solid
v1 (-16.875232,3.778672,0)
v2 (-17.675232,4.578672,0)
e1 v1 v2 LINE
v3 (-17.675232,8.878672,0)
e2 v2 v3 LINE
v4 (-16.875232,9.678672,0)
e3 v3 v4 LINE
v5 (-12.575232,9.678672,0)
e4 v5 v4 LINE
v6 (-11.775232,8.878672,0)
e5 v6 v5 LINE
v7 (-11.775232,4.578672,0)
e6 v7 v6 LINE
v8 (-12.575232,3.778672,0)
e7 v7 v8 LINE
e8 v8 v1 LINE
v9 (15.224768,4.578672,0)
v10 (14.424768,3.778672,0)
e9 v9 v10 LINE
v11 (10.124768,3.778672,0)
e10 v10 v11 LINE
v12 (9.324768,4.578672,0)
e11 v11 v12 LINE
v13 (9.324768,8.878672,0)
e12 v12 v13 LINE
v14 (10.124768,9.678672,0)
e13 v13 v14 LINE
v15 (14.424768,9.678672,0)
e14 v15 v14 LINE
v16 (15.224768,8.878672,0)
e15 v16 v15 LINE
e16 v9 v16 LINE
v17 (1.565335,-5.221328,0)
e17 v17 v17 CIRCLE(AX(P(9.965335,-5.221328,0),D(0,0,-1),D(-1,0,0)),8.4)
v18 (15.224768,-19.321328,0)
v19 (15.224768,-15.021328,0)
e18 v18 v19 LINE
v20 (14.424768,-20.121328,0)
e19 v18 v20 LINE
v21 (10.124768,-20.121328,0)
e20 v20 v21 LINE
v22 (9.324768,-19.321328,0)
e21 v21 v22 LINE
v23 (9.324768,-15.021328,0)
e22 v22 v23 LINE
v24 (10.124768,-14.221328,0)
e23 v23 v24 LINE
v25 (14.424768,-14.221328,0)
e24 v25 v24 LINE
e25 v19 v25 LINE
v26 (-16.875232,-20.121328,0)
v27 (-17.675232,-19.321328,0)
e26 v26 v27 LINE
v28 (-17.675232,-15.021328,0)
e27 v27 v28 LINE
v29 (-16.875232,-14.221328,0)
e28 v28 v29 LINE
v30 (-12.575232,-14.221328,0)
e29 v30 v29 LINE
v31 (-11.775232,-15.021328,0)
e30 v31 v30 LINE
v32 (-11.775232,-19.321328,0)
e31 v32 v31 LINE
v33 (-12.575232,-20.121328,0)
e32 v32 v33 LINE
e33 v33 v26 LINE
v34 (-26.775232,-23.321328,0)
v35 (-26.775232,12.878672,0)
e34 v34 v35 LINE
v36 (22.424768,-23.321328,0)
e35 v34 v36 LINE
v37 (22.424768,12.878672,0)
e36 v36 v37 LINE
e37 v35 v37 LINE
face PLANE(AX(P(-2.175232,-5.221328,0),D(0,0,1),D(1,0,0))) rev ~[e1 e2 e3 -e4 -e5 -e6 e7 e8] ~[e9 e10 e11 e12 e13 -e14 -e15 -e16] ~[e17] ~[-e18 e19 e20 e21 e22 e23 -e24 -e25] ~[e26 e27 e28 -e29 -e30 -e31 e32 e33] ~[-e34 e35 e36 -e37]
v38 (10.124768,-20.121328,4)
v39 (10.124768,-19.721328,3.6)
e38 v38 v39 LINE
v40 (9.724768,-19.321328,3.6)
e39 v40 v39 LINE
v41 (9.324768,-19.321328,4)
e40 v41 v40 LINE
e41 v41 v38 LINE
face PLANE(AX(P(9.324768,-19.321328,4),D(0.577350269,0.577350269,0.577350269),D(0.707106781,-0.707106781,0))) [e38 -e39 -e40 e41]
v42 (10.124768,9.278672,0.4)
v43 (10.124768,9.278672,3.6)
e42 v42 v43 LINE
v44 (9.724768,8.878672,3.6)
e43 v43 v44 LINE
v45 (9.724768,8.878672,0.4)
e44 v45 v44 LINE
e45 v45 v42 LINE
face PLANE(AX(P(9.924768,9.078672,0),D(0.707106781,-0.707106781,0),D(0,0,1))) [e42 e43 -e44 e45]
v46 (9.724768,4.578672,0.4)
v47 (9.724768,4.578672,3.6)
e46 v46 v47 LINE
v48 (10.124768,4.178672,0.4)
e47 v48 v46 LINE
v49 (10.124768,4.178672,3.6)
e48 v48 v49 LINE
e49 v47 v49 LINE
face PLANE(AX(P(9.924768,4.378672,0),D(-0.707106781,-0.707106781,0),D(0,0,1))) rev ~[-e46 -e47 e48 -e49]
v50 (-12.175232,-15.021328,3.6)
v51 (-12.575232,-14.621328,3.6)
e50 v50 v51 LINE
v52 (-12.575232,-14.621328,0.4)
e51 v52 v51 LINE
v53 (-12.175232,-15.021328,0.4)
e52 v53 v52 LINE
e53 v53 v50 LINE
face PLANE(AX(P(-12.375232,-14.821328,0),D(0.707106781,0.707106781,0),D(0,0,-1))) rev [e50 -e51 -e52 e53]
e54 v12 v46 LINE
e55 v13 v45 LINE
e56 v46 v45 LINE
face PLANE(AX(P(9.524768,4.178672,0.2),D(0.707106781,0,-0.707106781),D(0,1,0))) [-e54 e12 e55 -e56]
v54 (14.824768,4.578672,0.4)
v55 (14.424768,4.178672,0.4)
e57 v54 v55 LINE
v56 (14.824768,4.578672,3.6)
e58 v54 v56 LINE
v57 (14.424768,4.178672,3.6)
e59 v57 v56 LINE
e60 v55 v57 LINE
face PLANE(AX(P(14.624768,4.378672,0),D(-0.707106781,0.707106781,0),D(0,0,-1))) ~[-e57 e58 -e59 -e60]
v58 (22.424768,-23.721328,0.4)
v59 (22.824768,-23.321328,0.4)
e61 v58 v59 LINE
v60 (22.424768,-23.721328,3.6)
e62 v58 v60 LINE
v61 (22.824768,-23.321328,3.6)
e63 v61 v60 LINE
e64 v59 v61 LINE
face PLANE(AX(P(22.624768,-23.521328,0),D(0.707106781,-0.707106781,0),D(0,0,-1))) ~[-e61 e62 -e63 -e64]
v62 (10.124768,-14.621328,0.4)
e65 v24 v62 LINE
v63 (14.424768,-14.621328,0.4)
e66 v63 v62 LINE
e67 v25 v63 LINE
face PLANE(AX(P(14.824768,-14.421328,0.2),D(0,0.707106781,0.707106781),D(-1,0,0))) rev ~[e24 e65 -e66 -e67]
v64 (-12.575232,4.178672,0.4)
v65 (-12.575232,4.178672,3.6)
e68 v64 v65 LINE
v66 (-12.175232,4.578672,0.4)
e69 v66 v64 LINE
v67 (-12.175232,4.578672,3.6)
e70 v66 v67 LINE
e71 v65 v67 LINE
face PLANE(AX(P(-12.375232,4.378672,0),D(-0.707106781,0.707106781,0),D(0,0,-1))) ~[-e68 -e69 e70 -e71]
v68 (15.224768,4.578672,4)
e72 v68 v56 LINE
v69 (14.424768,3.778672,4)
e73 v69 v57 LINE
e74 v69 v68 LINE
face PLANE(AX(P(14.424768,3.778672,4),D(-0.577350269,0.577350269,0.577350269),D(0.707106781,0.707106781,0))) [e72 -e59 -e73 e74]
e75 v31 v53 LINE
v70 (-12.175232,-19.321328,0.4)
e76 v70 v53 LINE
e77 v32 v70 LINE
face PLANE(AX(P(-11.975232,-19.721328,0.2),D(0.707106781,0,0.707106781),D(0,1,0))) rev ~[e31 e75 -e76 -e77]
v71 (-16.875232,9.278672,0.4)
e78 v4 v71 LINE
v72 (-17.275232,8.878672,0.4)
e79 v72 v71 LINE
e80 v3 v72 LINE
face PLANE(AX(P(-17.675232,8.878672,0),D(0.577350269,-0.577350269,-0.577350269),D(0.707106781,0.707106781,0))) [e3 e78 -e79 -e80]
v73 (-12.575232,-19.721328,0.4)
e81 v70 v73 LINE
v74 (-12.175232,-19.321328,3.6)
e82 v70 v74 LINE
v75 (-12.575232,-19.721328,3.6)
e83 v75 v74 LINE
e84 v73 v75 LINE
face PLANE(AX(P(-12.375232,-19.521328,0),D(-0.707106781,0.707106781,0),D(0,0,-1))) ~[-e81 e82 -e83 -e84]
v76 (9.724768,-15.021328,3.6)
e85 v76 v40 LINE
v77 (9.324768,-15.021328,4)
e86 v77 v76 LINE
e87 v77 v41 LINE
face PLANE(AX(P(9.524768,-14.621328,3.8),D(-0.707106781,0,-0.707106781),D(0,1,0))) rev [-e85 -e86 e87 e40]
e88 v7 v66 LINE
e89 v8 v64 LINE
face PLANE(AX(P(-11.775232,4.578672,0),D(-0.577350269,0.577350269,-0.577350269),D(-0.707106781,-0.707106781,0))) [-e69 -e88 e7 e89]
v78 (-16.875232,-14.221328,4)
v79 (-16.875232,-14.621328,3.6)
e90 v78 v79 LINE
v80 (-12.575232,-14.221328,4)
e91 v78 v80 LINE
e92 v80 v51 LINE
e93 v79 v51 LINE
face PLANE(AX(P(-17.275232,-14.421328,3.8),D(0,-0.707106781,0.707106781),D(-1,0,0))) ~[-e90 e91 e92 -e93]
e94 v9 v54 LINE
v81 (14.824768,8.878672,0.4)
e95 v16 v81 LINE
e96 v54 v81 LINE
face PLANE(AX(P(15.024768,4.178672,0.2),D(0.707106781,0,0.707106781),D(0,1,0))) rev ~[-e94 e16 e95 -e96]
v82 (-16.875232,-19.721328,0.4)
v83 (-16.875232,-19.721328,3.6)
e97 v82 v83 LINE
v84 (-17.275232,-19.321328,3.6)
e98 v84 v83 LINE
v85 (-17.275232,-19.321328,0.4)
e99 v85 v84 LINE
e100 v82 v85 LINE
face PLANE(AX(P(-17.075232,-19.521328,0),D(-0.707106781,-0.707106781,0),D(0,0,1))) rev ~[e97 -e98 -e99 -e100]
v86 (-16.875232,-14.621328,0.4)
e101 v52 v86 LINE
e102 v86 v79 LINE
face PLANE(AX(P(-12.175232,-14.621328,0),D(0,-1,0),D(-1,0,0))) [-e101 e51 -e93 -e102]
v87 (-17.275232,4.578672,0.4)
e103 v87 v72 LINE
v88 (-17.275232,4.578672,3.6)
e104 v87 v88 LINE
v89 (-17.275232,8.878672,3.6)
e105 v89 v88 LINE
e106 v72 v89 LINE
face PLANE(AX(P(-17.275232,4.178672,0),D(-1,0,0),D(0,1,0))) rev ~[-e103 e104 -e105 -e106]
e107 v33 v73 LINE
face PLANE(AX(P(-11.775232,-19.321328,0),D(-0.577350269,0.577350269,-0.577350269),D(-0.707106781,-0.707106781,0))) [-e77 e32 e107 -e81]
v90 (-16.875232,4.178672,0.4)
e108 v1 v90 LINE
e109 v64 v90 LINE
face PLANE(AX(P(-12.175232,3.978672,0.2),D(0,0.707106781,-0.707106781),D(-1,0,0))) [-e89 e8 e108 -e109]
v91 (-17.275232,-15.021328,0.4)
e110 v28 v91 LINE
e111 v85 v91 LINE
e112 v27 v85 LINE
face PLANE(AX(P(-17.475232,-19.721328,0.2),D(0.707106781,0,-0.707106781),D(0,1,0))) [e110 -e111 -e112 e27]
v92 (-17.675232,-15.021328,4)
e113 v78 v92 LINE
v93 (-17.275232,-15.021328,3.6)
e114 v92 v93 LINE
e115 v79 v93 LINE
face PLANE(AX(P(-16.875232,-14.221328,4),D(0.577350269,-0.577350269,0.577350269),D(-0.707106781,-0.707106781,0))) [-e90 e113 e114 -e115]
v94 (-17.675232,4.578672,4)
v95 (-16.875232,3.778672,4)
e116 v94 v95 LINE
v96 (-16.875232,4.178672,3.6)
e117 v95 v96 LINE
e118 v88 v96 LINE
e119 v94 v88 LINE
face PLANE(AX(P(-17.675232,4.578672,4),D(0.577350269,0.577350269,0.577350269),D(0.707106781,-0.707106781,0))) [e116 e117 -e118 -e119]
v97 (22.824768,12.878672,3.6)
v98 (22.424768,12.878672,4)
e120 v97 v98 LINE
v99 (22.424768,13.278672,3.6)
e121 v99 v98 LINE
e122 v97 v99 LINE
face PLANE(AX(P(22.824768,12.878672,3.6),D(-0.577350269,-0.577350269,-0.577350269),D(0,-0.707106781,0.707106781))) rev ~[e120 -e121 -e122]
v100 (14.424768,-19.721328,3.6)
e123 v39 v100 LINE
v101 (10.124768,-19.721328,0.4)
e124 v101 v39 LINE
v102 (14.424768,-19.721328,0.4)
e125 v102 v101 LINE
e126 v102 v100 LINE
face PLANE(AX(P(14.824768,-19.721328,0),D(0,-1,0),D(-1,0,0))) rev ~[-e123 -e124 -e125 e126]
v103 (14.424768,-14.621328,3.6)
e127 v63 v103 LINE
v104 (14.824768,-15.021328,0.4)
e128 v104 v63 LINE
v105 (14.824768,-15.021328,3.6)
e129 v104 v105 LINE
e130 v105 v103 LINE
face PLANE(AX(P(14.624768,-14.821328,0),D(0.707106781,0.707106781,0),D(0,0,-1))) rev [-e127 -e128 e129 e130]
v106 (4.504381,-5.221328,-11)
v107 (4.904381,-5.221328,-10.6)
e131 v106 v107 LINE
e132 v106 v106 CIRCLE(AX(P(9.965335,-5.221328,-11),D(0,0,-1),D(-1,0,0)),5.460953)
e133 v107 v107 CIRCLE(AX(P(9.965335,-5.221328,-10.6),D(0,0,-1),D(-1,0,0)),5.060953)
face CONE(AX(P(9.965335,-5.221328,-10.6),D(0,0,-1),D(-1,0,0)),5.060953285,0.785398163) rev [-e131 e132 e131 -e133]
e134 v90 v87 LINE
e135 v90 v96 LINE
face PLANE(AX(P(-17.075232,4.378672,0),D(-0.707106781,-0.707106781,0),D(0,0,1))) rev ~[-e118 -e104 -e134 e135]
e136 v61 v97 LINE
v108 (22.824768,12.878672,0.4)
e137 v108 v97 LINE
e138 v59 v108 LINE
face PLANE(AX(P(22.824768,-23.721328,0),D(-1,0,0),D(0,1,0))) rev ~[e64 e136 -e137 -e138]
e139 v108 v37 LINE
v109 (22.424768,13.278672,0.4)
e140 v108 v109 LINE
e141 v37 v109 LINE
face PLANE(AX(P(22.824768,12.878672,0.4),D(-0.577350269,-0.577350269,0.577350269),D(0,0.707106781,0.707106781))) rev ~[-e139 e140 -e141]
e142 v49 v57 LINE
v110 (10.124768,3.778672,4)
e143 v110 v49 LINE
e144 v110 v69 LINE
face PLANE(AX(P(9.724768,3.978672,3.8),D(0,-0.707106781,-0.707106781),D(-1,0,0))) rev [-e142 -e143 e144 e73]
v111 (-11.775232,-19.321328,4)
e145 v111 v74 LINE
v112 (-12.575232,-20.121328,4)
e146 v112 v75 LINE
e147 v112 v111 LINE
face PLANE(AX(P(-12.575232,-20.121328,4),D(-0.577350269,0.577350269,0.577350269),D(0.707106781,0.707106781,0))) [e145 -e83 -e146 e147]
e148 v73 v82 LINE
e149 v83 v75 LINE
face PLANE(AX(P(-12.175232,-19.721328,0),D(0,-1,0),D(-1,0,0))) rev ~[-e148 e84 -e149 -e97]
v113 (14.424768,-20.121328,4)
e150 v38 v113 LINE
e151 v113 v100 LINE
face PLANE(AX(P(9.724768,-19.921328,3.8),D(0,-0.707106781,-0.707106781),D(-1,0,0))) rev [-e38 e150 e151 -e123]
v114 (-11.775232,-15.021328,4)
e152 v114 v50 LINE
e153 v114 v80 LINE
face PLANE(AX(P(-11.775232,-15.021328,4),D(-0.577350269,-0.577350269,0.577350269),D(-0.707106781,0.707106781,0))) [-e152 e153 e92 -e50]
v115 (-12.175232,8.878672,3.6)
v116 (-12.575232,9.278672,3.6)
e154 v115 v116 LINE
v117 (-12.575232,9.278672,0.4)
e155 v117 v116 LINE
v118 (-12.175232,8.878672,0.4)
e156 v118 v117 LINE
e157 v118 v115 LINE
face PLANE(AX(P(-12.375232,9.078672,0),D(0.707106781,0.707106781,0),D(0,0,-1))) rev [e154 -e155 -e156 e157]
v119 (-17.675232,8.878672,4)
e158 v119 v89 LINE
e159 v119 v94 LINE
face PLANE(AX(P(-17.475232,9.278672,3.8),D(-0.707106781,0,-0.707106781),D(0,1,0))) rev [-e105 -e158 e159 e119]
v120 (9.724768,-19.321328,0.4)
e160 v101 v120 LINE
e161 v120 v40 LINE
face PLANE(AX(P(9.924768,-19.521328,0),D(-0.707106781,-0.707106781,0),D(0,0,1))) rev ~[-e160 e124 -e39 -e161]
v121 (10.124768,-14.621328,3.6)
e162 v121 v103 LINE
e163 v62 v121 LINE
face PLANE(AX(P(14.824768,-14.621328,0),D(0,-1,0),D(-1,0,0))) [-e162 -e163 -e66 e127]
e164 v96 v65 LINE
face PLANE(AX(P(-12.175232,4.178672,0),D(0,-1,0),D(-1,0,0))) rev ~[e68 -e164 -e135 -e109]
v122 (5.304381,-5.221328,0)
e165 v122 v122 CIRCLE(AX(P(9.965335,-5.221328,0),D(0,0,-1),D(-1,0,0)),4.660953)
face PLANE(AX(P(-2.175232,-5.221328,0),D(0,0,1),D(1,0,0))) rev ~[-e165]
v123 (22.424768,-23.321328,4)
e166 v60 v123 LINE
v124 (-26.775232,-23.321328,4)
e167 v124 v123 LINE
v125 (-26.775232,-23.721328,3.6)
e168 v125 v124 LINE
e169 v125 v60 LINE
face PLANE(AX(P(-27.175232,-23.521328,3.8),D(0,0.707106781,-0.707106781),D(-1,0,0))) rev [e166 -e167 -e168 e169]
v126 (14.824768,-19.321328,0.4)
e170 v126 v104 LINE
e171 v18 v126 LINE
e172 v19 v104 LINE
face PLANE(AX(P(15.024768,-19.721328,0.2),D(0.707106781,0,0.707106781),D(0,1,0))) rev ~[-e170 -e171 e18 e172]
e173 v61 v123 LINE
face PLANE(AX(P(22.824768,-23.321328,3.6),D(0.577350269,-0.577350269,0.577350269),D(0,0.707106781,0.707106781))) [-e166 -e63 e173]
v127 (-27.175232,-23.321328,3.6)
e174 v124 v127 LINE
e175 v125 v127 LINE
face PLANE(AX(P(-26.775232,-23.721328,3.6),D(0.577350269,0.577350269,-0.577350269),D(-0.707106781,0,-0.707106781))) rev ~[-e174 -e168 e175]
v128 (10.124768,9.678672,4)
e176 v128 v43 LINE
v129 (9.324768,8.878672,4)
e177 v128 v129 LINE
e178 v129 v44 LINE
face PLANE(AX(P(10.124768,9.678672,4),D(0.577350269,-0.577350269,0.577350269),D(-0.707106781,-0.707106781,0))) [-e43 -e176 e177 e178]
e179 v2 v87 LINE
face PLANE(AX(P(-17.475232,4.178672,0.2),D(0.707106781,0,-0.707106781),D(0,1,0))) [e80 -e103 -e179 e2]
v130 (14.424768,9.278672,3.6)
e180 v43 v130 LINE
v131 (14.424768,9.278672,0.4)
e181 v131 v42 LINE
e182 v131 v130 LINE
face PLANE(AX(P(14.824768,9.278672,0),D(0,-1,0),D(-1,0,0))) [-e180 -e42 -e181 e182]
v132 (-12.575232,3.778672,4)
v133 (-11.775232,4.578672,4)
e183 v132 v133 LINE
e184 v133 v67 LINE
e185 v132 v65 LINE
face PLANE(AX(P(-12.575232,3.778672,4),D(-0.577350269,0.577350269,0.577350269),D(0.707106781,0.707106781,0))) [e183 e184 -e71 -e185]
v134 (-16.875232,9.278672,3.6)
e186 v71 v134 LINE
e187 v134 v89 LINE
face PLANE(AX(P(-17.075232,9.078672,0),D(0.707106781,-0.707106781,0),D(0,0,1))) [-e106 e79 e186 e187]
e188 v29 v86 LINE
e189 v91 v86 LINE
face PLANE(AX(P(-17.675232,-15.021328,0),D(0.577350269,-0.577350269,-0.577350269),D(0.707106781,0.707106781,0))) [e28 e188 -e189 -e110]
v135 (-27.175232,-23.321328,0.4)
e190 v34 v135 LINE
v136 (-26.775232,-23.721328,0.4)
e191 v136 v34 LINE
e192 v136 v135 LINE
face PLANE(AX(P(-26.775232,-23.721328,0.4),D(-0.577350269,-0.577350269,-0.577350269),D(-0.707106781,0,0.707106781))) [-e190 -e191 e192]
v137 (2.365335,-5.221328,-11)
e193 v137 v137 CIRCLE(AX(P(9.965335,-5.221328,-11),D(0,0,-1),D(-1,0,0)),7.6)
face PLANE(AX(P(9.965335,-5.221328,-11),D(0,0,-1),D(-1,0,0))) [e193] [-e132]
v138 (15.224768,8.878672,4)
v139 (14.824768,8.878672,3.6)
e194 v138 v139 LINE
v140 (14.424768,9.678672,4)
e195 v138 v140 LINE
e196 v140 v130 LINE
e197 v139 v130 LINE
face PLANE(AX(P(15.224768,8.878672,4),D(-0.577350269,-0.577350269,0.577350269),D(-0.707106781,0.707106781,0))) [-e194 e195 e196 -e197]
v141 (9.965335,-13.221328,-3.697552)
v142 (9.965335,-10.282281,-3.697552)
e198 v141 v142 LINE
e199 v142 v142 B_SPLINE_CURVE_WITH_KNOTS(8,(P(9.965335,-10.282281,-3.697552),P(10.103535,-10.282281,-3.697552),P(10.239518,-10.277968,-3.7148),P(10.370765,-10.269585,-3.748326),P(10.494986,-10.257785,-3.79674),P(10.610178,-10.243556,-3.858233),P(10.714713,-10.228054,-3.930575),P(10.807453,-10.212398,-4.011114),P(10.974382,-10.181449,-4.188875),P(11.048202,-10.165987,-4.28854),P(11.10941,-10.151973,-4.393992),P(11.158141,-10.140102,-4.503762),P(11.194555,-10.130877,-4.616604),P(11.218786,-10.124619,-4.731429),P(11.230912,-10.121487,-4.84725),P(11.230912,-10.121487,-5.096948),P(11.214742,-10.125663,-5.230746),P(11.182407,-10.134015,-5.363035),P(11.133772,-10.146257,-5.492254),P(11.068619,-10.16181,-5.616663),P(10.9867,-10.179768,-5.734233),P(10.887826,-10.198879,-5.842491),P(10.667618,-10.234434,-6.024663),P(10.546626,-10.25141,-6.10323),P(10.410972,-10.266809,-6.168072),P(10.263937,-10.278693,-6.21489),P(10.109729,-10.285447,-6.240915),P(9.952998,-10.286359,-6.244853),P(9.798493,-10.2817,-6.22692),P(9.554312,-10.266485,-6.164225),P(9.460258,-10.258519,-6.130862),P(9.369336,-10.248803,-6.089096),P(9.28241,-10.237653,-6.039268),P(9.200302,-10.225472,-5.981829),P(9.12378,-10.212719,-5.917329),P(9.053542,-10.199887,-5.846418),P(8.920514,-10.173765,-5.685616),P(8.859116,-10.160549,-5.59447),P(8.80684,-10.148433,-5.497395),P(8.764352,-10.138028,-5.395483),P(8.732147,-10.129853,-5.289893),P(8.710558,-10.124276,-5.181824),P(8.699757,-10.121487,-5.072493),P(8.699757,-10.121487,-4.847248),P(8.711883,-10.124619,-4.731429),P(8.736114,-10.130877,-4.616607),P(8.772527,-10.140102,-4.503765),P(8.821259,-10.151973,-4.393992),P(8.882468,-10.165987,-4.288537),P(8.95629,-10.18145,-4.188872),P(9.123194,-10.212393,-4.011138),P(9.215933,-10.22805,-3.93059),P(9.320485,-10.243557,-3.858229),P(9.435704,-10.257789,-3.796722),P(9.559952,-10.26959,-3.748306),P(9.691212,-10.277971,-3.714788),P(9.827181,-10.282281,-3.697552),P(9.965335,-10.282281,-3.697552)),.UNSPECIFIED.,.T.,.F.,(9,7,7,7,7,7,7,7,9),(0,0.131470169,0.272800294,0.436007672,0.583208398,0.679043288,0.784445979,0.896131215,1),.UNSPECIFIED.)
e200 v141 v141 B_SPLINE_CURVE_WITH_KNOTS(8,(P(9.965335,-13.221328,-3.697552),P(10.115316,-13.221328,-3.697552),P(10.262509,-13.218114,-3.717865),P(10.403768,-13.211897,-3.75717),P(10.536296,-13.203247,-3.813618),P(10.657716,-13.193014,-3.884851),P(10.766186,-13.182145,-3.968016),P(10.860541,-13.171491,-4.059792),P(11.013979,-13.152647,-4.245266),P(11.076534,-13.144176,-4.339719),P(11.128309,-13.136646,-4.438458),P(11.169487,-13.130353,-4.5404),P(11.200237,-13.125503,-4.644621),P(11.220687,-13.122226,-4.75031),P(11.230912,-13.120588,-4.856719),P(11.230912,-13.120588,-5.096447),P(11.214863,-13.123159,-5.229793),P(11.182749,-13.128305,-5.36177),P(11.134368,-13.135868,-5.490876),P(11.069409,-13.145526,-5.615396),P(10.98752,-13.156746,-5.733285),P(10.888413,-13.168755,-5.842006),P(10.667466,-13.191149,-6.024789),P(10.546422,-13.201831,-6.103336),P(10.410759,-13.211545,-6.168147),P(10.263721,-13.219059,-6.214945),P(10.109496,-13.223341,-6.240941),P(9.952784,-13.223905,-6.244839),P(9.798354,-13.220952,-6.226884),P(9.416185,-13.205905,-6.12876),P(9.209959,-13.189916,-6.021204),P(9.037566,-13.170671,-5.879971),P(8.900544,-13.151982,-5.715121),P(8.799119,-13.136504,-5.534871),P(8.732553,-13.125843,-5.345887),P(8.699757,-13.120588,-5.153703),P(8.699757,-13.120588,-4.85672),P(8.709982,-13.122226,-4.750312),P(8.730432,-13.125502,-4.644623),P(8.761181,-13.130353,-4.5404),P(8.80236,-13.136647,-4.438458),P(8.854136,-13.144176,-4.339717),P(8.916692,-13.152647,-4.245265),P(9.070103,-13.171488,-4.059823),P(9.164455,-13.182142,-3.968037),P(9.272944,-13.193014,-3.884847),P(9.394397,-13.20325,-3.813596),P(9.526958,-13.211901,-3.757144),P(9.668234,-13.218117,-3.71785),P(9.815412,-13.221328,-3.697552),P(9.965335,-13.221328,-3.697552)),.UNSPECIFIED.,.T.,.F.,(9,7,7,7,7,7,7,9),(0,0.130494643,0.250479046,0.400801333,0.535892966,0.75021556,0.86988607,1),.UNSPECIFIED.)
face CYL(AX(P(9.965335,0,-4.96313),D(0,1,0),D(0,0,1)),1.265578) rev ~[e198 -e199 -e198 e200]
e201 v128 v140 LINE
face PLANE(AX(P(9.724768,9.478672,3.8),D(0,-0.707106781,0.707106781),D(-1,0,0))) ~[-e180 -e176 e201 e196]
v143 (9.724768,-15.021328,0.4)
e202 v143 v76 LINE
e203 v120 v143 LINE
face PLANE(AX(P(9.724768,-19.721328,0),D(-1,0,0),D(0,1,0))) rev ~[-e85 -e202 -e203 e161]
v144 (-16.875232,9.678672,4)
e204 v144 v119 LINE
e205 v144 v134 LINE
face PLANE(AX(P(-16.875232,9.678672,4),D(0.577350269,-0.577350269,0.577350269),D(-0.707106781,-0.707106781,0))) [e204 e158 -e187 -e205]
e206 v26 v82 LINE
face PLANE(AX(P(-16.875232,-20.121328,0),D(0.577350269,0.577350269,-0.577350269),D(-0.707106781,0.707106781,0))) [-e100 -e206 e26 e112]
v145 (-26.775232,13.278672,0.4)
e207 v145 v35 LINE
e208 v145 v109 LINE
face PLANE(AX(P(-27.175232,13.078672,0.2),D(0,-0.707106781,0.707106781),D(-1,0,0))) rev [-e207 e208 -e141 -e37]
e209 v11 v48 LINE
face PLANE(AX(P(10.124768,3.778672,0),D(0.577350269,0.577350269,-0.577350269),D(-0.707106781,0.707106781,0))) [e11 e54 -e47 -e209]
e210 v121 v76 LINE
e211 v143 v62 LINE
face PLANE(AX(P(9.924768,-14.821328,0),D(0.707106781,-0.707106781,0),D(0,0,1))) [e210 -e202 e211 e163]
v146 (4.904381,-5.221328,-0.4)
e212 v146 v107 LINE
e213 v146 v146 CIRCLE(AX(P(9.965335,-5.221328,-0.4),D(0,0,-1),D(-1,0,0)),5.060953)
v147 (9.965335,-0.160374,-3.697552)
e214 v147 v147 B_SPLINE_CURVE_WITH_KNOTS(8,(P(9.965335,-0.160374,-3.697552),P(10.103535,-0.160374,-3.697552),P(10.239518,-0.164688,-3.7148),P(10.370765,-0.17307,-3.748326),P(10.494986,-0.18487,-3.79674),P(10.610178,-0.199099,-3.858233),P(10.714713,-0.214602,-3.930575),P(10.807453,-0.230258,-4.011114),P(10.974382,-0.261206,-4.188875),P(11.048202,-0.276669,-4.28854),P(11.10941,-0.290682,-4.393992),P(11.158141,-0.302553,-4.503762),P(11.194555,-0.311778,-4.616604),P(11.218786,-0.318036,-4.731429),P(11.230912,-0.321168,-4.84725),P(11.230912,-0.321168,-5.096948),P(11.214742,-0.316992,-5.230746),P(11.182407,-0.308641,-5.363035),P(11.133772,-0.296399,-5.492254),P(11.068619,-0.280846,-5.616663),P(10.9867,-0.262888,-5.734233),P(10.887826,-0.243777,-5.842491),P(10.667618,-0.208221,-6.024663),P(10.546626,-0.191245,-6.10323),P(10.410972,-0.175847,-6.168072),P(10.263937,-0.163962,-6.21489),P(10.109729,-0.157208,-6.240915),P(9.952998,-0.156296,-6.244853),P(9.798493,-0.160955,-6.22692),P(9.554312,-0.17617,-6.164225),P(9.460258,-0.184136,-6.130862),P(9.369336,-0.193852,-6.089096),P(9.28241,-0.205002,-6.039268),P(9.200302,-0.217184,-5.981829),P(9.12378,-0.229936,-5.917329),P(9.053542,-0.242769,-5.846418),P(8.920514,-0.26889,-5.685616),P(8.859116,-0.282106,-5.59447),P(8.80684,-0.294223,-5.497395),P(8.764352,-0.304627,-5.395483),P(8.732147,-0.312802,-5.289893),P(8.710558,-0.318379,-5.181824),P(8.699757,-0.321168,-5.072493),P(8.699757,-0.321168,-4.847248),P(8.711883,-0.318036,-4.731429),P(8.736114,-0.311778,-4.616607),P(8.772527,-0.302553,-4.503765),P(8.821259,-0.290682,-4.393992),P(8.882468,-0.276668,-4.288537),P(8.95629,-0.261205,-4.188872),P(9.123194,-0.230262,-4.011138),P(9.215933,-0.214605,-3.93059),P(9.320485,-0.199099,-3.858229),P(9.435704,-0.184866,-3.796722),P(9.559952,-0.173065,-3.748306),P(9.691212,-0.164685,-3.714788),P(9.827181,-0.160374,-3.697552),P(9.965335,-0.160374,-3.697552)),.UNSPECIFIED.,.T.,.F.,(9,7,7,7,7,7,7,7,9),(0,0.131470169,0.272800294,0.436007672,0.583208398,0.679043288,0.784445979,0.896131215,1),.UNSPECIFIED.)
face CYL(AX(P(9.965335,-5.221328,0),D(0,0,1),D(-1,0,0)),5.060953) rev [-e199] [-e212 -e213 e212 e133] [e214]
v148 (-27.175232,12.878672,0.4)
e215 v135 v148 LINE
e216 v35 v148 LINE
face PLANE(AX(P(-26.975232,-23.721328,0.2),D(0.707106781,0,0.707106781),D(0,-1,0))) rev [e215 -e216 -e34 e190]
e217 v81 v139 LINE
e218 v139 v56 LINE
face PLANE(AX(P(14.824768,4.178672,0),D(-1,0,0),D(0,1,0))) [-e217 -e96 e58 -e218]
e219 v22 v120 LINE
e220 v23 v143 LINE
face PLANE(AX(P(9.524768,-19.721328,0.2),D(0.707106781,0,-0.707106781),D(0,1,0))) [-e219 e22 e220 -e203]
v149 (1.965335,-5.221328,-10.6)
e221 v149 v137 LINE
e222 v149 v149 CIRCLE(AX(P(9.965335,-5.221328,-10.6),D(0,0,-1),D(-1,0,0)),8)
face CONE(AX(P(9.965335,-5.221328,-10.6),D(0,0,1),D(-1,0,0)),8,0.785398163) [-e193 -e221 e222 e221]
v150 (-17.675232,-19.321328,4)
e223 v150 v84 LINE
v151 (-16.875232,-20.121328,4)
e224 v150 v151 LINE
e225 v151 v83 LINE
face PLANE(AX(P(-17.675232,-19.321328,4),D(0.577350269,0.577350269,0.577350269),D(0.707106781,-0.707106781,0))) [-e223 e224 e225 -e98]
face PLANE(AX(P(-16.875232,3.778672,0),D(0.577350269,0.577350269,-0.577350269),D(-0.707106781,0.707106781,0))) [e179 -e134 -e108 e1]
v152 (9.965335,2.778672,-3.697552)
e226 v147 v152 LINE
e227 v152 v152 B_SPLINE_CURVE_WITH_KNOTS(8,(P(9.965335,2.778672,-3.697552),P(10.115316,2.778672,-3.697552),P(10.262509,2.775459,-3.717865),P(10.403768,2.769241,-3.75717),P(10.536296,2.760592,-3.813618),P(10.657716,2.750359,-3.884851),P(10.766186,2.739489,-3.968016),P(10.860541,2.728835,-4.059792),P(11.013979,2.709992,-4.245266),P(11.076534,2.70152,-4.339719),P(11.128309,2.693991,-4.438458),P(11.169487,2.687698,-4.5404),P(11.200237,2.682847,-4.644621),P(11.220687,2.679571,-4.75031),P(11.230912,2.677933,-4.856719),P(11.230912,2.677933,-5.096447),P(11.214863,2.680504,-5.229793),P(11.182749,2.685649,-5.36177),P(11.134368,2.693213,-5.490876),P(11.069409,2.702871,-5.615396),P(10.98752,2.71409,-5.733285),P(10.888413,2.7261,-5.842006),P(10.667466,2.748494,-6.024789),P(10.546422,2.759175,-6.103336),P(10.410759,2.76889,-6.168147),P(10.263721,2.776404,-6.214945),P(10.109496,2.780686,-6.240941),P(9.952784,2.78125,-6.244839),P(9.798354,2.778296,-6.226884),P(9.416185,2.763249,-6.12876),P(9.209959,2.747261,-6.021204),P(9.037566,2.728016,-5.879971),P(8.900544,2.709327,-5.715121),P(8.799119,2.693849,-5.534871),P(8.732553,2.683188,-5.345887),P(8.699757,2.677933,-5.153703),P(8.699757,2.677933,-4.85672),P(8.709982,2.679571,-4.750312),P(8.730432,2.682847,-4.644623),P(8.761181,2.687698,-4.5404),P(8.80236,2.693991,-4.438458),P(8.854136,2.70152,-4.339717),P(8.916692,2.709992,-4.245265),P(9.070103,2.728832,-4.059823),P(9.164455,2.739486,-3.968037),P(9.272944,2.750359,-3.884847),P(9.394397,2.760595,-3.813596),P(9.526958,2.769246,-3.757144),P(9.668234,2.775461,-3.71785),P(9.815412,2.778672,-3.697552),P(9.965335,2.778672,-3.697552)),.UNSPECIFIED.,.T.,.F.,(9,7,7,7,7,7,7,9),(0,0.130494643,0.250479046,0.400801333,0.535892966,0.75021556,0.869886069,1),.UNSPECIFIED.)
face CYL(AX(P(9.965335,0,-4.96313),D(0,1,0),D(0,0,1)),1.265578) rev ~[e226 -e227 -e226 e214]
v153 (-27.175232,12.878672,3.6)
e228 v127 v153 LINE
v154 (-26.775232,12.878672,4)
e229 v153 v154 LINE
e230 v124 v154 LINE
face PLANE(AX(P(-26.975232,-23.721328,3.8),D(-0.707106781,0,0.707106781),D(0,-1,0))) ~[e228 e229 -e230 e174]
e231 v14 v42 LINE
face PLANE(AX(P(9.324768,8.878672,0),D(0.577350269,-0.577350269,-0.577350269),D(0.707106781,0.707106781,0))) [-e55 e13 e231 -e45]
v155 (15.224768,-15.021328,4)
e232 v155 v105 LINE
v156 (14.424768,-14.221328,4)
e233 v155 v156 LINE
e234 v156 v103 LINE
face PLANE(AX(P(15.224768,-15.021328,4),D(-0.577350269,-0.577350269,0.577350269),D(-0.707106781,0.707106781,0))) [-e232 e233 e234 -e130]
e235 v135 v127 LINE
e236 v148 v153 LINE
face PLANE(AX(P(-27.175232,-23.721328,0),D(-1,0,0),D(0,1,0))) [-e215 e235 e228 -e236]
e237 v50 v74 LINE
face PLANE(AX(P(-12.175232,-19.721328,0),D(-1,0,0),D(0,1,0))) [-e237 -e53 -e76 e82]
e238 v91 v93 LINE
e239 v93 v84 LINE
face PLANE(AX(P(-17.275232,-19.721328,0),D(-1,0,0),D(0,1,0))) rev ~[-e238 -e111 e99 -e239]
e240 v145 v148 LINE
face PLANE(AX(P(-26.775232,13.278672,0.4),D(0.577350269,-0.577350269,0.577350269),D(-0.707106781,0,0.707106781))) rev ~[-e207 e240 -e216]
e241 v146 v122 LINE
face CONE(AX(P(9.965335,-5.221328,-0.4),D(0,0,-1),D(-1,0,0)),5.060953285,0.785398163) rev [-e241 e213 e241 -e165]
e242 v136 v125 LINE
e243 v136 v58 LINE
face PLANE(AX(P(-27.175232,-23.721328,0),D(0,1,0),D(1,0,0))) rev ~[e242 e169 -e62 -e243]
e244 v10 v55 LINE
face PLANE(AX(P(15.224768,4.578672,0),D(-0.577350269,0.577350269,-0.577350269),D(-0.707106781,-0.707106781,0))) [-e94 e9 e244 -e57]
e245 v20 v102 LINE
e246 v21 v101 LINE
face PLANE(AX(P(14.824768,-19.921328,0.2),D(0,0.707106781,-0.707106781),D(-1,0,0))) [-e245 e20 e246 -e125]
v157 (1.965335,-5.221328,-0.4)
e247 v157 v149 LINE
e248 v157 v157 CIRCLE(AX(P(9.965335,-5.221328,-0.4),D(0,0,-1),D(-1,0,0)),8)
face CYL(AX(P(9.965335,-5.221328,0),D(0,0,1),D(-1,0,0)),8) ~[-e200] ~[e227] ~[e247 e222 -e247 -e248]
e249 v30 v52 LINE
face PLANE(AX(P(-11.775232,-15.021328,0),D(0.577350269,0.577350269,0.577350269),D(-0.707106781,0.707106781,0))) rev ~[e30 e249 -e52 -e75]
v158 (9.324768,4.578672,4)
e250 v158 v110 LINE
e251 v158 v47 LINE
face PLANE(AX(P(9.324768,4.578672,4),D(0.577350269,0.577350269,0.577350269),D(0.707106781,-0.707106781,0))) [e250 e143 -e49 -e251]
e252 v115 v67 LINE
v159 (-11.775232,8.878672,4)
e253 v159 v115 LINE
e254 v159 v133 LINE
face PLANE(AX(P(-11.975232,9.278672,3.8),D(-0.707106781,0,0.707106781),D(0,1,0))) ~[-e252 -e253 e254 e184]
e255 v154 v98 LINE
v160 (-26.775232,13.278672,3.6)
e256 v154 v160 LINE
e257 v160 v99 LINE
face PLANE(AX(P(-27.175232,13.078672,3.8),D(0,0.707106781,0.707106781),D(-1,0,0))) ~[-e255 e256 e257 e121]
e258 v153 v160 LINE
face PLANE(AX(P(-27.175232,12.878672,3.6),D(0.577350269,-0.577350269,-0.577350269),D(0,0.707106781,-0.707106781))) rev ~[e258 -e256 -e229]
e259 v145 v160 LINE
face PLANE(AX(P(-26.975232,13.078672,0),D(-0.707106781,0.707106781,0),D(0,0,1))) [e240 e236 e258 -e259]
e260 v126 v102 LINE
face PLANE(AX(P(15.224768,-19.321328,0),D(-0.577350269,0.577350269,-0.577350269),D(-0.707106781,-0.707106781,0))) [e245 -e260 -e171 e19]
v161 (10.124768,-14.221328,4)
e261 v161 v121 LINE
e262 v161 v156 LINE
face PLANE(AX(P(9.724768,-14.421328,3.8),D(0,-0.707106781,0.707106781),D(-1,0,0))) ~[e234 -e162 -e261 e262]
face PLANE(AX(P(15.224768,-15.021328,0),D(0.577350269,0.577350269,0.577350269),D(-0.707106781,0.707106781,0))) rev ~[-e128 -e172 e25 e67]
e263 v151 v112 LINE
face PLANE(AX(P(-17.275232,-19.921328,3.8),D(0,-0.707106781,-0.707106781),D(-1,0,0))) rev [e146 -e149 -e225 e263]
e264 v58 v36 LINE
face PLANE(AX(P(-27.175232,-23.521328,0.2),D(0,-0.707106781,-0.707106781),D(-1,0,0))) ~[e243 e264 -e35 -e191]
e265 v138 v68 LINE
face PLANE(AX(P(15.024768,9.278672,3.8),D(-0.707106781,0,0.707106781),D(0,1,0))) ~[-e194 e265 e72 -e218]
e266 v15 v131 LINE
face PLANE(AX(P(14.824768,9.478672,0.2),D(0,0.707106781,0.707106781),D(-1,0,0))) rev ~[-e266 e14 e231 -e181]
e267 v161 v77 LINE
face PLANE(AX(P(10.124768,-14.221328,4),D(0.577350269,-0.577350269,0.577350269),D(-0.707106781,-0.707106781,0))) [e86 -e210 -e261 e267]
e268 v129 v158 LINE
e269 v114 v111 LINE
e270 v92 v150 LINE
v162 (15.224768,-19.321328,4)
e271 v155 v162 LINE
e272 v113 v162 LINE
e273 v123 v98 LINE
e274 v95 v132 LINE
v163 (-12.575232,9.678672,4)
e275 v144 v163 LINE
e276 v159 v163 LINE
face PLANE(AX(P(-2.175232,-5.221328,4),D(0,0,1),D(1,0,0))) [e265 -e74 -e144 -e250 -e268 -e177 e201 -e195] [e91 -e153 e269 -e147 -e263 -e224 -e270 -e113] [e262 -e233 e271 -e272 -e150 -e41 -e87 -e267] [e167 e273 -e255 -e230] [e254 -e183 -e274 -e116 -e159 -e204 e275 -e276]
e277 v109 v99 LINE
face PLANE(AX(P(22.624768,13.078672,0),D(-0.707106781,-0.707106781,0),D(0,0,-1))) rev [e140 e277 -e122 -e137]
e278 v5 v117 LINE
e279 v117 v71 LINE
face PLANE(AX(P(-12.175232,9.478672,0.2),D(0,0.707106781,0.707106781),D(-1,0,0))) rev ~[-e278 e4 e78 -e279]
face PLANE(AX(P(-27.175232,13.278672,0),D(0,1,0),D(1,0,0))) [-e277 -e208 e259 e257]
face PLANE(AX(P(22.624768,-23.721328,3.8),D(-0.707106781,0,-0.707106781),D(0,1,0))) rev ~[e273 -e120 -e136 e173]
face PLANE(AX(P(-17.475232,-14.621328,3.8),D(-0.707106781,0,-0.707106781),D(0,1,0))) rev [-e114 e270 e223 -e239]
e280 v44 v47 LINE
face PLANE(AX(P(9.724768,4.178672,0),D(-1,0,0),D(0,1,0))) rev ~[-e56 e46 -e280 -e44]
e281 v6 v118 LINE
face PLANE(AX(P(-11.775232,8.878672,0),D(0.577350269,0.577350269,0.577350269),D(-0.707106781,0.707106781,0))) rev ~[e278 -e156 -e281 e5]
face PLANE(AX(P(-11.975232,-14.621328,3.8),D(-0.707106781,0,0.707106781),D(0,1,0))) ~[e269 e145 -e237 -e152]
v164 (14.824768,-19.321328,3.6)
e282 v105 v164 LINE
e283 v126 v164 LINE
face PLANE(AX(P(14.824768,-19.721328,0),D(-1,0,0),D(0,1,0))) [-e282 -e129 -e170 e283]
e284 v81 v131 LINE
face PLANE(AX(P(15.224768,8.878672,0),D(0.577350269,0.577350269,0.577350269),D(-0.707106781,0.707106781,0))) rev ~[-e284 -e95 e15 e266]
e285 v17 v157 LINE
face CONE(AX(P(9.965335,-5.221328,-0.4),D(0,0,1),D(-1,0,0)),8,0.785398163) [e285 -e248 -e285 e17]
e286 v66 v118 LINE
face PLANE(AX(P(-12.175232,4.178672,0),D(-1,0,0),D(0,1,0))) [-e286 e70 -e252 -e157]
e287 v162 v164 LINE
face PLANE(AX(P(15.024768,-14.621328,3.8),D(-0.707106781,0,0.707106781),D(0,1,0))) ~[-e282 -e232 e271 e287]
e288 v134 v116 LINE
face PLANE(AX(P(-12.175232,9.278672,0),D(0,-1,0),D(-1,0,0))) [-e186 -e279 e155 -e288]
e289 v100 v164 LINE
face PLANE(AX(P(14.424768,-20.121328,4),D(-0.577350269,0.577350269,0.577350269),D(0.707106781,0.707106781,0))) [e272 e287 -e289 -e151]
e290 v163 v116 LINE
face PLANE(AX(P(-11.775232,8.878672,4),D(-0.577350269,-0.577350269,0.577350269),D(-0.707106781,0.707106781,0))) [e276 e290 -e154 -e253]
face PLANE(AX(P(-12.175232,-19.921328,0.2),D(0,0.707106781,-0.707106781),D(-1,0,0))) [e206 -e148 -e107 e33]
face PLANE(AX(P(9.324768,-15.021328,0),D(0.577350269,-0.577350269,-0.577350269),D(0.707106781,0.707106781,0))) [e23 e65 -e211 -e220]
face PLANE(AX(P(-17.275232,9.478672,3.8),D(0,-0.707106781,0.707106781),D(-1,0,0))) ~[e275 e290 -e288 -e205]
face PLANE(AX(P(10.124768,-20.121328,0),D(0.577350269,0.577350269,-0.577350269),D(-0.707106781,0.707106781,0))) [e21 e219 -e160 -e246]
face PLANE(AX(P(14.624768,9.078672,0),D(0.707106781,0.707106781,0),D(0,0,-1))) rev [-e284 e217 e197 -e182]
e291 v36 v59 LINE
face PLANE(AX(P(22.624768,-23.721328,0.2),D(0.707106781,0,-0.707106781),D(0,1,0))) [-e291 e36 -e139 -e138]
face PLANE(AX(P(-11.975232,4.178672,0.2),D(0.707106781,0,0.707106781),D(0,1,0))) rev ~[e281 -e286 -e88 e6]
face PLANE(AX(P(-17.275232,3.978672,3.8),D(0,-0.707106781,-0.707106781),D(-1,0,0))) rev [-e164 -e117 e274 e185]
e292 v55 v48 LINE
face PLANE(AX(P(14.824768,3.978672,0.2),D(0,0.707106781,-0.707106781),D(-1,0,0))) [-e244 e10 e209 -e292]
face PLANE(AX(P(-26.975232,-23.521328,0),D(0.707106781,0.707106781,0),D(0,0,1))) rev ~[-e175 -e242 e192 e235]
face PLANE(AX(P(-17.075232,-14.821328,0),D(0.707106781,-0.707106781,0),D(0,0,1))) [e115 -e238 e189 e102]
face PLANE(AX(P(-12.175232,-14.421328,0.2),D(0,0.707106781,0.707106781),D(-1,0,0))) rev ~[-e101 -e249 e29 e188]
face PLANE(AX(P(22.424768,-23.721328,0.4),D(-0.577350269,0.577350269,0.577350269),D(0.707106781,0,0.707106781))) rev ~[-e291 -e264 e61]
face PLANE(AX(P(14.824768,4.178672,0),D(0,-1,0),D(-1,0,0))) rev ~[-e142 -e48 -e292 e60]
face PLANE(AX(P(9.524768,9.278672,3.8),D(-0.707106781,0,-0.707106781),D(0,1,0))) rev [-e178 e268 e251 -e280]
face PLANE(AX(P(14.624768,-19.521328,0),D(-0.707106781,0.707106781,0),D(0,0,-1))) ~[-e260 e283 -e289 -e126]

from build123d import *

# Parameters (mm, degrees)
SKIZZE1_W                       = 50
SKIZZE1_H                       = 37
AUFSATZ_LINEAR_AUSTRAGEN1_DEPTH = 4
SKIZZE2_W                       = 5.1
SKIZZE2_H                       = 5.1
SCHNITT_LINEAR_AUSTRAGEN1_DEPTH = 37.293175992
SKIZZE3_R                       = 8
SKIZZE3_R_2                     = 5.060953285
AUFSATZ_LINEAR_AUSTRAGEN2_DEPTH = 11
FASE1_SIZE                      = 0.4
SKIZZE4_R                       = 1.265577593
SCHNITT_LINEAR_AUSTRAGEN2_DEPTH = 100


with BuildPart() as part:
    # Skizze1 → Aufsatz-Linear austragen1 (new body)
    with BuildSketch(Plane.XY):
        with Locations((-2.175232088, -5.221327631)):
            Rectangle(SKIZZE1_W, SKIZZE1_H)
    extrude(amount=AUFSATZ_LINEAR_AUSTRAGEN1_DEPTH)

    # Skizze2 → Schnitt-Linear austragen1 (cut, through all)
    with BuildSketch(Plane(origin=(0, 0, 0), x_dir=(-1, 0, 0), z_dir=(0, 0, -1))):
        with Locations((14.725232088, 6.728672369)):
            Rectangle(SKIZZE2_W, SKIZZE2_H)
        with Locations((-12.274767912, 6.728672369)):
            Rectangle(SKIZZE2_W, SKIZZE2_H)
        with Locations((-12.274767912, -17.171327631)):
            Rectangle(SKIZZE2_W, SKIZZE2_H)
        with Locations((14.725232088, -17.171327631)):
            Rectangle(SKIZZE2_W, SKIZZE2_H)
    extrude(amount=-SCHNITT_LINEAR_AUSTRAGEN1_DEPTH, mode=Mode.SUBTRACT)

    # Skizze3 → Aufsatz-Linear austragen2 (add)
    with BuildSketch(Plane(origin=(0, 0, 0), x_dir=(-1, 0, 0), z_dir=(0, 0, -1))):
        with Locations((-9.965334645, -5.221327631)):
            Circle(SKIZZE3_R)
        with Locations((-9.965334645, -5.221327631)):
            Circle(SKIZZE3_R_2, mode=Mode.SUBTRACT)
    extrude(amount=AUFSATZ_LINEAR_AUSTRAGEN2_DEPTH)

    # Fase1
    fase1_edges = [part.edges().sort_by_distance(p)[0] for p in [
        (-2.175232088, 13.278672369, 4),
        (-27.175232088, -5.221327631, 4),
        (-12.175232088, 6.728672369, 4),
        (-12.175232088, 4.178672369, 2),
        (-14.725232088, 9.278672369, 4),
        (-12.175232088, 9.278672369, 2),
        (-17.275232088, 6.728672369, 4),
        (-17.275232088, 9.278672369, 2),
        (-14.725232088, 4.178672369, 4),
        (-17.275232088, 4.178672369, 2),
        (-12.175232088, 6.728672369, 0),
        (-14.725232088, 4.178672369, 0),
        (-17.275232088, 6.728672369, 0),
        (-14.725232088, 9.278672369, 0),
        (14.824767912, -17.171327631, 4),
        (14.824767912, -19.721327631, 2),
        (12.274767912, -14.621327631, 4),
        (14.824767912, -14.621327631, 2),
        (9.724767912, -17.171327631, 4),
        (9.724767912, -14.621327631, 2),
        (12.274767912, -19.721327631, 4),
        (9.724767912, -19.721327631, 2),
        (14.824767912, -17.171327631, 0),
        (12.274767912, -19.721327631, 0),
        (9.724767912, -17.171327631, 0),
        (12.274767912, -14.621327631, 0),
        (-12.175232088, -17.171327631, 4),
        (-12.175232088, -19.721327631, 2),
        (-14.725232088, -14.621327631, 4),
        (-12.175232088, -14.621327631, 2),
        (-17.275232088, -17.171327631, 4),
        (-17.275232088, -14.621327631, 2),
        (-14.725232088, -19.721327631, 4),
        (-17.275232088, -19.721327631, 2),
        (-12.175232088, -17.171327631, 0),
        (-14.725232088, -19.721327631, 0),
        (-17.275232088, -17.171327631, 0),
        (-14.725232088, -14.621327631, 0),
        (14.824767912, 6.728672369, 4),
        (14.824767912, 4.178672369, 2),
        (12.274767912, 9.278672369, 4),
        (-2.175232088, -23.721327631, 4),
        (-27.175232088, -5.221327631, 0),
        (14.824767912, 9.278672369, 2),
        (9.724767912, 6.728672369, 4),
        (9.724767912, 9.278672369, 2),
        (12.274767912, 4.178672369, 4),
        (9.724767912, 4.178672369, 2),
        (14.824767912, 6.728672369, 0),
        (12.274767912, 4.178672369, 0),
        (9.724767912, 6.728672369, 0),
        (12.274767912, 9.278672369, 0),
        (-2.175232088, 13.278672369, 0),
        (22.824767912, -5.221327631, 0),
        (-2.175232088, -23.721327631, 0),
        (15.02628793, -5.221327631, 0),
        (17.965334645, -5.221327631, -11),
        (17.965334645, -5.221327631, 0),
        (-27.175232088, -23.721327631, 2),
        (15.02628793, -5.221327631, -11),
        (-27.175232088, 13.278672369, 2),
        (22.824767912, 13.278672369, 2),
        (22.824767912, -23.721327631, 2),
        (22.824767912, -5.221327631, 4),
    ]]
    chamfer(fase1_edges, length=FASE1_SIZE)

    # Skizze4 → Schnitt-Linear austragen2 (cut, symmetric)
    with BuildSketch(Plane(origin=(0, 0, 0), x_dir=(1, 0, 0), z_dir=(0, 1, 0))):
        with Locations(Location((9.965334645, 4.963129901, 0), (0, 0, 270))):
            Circle(SKIZZE4_R)
    extrude(amount=SCHNITT_LINEAR_AUSTRAGEN2_DEPTH, both=True, mode=Mode.SUBTRACT)


solid = part.part
